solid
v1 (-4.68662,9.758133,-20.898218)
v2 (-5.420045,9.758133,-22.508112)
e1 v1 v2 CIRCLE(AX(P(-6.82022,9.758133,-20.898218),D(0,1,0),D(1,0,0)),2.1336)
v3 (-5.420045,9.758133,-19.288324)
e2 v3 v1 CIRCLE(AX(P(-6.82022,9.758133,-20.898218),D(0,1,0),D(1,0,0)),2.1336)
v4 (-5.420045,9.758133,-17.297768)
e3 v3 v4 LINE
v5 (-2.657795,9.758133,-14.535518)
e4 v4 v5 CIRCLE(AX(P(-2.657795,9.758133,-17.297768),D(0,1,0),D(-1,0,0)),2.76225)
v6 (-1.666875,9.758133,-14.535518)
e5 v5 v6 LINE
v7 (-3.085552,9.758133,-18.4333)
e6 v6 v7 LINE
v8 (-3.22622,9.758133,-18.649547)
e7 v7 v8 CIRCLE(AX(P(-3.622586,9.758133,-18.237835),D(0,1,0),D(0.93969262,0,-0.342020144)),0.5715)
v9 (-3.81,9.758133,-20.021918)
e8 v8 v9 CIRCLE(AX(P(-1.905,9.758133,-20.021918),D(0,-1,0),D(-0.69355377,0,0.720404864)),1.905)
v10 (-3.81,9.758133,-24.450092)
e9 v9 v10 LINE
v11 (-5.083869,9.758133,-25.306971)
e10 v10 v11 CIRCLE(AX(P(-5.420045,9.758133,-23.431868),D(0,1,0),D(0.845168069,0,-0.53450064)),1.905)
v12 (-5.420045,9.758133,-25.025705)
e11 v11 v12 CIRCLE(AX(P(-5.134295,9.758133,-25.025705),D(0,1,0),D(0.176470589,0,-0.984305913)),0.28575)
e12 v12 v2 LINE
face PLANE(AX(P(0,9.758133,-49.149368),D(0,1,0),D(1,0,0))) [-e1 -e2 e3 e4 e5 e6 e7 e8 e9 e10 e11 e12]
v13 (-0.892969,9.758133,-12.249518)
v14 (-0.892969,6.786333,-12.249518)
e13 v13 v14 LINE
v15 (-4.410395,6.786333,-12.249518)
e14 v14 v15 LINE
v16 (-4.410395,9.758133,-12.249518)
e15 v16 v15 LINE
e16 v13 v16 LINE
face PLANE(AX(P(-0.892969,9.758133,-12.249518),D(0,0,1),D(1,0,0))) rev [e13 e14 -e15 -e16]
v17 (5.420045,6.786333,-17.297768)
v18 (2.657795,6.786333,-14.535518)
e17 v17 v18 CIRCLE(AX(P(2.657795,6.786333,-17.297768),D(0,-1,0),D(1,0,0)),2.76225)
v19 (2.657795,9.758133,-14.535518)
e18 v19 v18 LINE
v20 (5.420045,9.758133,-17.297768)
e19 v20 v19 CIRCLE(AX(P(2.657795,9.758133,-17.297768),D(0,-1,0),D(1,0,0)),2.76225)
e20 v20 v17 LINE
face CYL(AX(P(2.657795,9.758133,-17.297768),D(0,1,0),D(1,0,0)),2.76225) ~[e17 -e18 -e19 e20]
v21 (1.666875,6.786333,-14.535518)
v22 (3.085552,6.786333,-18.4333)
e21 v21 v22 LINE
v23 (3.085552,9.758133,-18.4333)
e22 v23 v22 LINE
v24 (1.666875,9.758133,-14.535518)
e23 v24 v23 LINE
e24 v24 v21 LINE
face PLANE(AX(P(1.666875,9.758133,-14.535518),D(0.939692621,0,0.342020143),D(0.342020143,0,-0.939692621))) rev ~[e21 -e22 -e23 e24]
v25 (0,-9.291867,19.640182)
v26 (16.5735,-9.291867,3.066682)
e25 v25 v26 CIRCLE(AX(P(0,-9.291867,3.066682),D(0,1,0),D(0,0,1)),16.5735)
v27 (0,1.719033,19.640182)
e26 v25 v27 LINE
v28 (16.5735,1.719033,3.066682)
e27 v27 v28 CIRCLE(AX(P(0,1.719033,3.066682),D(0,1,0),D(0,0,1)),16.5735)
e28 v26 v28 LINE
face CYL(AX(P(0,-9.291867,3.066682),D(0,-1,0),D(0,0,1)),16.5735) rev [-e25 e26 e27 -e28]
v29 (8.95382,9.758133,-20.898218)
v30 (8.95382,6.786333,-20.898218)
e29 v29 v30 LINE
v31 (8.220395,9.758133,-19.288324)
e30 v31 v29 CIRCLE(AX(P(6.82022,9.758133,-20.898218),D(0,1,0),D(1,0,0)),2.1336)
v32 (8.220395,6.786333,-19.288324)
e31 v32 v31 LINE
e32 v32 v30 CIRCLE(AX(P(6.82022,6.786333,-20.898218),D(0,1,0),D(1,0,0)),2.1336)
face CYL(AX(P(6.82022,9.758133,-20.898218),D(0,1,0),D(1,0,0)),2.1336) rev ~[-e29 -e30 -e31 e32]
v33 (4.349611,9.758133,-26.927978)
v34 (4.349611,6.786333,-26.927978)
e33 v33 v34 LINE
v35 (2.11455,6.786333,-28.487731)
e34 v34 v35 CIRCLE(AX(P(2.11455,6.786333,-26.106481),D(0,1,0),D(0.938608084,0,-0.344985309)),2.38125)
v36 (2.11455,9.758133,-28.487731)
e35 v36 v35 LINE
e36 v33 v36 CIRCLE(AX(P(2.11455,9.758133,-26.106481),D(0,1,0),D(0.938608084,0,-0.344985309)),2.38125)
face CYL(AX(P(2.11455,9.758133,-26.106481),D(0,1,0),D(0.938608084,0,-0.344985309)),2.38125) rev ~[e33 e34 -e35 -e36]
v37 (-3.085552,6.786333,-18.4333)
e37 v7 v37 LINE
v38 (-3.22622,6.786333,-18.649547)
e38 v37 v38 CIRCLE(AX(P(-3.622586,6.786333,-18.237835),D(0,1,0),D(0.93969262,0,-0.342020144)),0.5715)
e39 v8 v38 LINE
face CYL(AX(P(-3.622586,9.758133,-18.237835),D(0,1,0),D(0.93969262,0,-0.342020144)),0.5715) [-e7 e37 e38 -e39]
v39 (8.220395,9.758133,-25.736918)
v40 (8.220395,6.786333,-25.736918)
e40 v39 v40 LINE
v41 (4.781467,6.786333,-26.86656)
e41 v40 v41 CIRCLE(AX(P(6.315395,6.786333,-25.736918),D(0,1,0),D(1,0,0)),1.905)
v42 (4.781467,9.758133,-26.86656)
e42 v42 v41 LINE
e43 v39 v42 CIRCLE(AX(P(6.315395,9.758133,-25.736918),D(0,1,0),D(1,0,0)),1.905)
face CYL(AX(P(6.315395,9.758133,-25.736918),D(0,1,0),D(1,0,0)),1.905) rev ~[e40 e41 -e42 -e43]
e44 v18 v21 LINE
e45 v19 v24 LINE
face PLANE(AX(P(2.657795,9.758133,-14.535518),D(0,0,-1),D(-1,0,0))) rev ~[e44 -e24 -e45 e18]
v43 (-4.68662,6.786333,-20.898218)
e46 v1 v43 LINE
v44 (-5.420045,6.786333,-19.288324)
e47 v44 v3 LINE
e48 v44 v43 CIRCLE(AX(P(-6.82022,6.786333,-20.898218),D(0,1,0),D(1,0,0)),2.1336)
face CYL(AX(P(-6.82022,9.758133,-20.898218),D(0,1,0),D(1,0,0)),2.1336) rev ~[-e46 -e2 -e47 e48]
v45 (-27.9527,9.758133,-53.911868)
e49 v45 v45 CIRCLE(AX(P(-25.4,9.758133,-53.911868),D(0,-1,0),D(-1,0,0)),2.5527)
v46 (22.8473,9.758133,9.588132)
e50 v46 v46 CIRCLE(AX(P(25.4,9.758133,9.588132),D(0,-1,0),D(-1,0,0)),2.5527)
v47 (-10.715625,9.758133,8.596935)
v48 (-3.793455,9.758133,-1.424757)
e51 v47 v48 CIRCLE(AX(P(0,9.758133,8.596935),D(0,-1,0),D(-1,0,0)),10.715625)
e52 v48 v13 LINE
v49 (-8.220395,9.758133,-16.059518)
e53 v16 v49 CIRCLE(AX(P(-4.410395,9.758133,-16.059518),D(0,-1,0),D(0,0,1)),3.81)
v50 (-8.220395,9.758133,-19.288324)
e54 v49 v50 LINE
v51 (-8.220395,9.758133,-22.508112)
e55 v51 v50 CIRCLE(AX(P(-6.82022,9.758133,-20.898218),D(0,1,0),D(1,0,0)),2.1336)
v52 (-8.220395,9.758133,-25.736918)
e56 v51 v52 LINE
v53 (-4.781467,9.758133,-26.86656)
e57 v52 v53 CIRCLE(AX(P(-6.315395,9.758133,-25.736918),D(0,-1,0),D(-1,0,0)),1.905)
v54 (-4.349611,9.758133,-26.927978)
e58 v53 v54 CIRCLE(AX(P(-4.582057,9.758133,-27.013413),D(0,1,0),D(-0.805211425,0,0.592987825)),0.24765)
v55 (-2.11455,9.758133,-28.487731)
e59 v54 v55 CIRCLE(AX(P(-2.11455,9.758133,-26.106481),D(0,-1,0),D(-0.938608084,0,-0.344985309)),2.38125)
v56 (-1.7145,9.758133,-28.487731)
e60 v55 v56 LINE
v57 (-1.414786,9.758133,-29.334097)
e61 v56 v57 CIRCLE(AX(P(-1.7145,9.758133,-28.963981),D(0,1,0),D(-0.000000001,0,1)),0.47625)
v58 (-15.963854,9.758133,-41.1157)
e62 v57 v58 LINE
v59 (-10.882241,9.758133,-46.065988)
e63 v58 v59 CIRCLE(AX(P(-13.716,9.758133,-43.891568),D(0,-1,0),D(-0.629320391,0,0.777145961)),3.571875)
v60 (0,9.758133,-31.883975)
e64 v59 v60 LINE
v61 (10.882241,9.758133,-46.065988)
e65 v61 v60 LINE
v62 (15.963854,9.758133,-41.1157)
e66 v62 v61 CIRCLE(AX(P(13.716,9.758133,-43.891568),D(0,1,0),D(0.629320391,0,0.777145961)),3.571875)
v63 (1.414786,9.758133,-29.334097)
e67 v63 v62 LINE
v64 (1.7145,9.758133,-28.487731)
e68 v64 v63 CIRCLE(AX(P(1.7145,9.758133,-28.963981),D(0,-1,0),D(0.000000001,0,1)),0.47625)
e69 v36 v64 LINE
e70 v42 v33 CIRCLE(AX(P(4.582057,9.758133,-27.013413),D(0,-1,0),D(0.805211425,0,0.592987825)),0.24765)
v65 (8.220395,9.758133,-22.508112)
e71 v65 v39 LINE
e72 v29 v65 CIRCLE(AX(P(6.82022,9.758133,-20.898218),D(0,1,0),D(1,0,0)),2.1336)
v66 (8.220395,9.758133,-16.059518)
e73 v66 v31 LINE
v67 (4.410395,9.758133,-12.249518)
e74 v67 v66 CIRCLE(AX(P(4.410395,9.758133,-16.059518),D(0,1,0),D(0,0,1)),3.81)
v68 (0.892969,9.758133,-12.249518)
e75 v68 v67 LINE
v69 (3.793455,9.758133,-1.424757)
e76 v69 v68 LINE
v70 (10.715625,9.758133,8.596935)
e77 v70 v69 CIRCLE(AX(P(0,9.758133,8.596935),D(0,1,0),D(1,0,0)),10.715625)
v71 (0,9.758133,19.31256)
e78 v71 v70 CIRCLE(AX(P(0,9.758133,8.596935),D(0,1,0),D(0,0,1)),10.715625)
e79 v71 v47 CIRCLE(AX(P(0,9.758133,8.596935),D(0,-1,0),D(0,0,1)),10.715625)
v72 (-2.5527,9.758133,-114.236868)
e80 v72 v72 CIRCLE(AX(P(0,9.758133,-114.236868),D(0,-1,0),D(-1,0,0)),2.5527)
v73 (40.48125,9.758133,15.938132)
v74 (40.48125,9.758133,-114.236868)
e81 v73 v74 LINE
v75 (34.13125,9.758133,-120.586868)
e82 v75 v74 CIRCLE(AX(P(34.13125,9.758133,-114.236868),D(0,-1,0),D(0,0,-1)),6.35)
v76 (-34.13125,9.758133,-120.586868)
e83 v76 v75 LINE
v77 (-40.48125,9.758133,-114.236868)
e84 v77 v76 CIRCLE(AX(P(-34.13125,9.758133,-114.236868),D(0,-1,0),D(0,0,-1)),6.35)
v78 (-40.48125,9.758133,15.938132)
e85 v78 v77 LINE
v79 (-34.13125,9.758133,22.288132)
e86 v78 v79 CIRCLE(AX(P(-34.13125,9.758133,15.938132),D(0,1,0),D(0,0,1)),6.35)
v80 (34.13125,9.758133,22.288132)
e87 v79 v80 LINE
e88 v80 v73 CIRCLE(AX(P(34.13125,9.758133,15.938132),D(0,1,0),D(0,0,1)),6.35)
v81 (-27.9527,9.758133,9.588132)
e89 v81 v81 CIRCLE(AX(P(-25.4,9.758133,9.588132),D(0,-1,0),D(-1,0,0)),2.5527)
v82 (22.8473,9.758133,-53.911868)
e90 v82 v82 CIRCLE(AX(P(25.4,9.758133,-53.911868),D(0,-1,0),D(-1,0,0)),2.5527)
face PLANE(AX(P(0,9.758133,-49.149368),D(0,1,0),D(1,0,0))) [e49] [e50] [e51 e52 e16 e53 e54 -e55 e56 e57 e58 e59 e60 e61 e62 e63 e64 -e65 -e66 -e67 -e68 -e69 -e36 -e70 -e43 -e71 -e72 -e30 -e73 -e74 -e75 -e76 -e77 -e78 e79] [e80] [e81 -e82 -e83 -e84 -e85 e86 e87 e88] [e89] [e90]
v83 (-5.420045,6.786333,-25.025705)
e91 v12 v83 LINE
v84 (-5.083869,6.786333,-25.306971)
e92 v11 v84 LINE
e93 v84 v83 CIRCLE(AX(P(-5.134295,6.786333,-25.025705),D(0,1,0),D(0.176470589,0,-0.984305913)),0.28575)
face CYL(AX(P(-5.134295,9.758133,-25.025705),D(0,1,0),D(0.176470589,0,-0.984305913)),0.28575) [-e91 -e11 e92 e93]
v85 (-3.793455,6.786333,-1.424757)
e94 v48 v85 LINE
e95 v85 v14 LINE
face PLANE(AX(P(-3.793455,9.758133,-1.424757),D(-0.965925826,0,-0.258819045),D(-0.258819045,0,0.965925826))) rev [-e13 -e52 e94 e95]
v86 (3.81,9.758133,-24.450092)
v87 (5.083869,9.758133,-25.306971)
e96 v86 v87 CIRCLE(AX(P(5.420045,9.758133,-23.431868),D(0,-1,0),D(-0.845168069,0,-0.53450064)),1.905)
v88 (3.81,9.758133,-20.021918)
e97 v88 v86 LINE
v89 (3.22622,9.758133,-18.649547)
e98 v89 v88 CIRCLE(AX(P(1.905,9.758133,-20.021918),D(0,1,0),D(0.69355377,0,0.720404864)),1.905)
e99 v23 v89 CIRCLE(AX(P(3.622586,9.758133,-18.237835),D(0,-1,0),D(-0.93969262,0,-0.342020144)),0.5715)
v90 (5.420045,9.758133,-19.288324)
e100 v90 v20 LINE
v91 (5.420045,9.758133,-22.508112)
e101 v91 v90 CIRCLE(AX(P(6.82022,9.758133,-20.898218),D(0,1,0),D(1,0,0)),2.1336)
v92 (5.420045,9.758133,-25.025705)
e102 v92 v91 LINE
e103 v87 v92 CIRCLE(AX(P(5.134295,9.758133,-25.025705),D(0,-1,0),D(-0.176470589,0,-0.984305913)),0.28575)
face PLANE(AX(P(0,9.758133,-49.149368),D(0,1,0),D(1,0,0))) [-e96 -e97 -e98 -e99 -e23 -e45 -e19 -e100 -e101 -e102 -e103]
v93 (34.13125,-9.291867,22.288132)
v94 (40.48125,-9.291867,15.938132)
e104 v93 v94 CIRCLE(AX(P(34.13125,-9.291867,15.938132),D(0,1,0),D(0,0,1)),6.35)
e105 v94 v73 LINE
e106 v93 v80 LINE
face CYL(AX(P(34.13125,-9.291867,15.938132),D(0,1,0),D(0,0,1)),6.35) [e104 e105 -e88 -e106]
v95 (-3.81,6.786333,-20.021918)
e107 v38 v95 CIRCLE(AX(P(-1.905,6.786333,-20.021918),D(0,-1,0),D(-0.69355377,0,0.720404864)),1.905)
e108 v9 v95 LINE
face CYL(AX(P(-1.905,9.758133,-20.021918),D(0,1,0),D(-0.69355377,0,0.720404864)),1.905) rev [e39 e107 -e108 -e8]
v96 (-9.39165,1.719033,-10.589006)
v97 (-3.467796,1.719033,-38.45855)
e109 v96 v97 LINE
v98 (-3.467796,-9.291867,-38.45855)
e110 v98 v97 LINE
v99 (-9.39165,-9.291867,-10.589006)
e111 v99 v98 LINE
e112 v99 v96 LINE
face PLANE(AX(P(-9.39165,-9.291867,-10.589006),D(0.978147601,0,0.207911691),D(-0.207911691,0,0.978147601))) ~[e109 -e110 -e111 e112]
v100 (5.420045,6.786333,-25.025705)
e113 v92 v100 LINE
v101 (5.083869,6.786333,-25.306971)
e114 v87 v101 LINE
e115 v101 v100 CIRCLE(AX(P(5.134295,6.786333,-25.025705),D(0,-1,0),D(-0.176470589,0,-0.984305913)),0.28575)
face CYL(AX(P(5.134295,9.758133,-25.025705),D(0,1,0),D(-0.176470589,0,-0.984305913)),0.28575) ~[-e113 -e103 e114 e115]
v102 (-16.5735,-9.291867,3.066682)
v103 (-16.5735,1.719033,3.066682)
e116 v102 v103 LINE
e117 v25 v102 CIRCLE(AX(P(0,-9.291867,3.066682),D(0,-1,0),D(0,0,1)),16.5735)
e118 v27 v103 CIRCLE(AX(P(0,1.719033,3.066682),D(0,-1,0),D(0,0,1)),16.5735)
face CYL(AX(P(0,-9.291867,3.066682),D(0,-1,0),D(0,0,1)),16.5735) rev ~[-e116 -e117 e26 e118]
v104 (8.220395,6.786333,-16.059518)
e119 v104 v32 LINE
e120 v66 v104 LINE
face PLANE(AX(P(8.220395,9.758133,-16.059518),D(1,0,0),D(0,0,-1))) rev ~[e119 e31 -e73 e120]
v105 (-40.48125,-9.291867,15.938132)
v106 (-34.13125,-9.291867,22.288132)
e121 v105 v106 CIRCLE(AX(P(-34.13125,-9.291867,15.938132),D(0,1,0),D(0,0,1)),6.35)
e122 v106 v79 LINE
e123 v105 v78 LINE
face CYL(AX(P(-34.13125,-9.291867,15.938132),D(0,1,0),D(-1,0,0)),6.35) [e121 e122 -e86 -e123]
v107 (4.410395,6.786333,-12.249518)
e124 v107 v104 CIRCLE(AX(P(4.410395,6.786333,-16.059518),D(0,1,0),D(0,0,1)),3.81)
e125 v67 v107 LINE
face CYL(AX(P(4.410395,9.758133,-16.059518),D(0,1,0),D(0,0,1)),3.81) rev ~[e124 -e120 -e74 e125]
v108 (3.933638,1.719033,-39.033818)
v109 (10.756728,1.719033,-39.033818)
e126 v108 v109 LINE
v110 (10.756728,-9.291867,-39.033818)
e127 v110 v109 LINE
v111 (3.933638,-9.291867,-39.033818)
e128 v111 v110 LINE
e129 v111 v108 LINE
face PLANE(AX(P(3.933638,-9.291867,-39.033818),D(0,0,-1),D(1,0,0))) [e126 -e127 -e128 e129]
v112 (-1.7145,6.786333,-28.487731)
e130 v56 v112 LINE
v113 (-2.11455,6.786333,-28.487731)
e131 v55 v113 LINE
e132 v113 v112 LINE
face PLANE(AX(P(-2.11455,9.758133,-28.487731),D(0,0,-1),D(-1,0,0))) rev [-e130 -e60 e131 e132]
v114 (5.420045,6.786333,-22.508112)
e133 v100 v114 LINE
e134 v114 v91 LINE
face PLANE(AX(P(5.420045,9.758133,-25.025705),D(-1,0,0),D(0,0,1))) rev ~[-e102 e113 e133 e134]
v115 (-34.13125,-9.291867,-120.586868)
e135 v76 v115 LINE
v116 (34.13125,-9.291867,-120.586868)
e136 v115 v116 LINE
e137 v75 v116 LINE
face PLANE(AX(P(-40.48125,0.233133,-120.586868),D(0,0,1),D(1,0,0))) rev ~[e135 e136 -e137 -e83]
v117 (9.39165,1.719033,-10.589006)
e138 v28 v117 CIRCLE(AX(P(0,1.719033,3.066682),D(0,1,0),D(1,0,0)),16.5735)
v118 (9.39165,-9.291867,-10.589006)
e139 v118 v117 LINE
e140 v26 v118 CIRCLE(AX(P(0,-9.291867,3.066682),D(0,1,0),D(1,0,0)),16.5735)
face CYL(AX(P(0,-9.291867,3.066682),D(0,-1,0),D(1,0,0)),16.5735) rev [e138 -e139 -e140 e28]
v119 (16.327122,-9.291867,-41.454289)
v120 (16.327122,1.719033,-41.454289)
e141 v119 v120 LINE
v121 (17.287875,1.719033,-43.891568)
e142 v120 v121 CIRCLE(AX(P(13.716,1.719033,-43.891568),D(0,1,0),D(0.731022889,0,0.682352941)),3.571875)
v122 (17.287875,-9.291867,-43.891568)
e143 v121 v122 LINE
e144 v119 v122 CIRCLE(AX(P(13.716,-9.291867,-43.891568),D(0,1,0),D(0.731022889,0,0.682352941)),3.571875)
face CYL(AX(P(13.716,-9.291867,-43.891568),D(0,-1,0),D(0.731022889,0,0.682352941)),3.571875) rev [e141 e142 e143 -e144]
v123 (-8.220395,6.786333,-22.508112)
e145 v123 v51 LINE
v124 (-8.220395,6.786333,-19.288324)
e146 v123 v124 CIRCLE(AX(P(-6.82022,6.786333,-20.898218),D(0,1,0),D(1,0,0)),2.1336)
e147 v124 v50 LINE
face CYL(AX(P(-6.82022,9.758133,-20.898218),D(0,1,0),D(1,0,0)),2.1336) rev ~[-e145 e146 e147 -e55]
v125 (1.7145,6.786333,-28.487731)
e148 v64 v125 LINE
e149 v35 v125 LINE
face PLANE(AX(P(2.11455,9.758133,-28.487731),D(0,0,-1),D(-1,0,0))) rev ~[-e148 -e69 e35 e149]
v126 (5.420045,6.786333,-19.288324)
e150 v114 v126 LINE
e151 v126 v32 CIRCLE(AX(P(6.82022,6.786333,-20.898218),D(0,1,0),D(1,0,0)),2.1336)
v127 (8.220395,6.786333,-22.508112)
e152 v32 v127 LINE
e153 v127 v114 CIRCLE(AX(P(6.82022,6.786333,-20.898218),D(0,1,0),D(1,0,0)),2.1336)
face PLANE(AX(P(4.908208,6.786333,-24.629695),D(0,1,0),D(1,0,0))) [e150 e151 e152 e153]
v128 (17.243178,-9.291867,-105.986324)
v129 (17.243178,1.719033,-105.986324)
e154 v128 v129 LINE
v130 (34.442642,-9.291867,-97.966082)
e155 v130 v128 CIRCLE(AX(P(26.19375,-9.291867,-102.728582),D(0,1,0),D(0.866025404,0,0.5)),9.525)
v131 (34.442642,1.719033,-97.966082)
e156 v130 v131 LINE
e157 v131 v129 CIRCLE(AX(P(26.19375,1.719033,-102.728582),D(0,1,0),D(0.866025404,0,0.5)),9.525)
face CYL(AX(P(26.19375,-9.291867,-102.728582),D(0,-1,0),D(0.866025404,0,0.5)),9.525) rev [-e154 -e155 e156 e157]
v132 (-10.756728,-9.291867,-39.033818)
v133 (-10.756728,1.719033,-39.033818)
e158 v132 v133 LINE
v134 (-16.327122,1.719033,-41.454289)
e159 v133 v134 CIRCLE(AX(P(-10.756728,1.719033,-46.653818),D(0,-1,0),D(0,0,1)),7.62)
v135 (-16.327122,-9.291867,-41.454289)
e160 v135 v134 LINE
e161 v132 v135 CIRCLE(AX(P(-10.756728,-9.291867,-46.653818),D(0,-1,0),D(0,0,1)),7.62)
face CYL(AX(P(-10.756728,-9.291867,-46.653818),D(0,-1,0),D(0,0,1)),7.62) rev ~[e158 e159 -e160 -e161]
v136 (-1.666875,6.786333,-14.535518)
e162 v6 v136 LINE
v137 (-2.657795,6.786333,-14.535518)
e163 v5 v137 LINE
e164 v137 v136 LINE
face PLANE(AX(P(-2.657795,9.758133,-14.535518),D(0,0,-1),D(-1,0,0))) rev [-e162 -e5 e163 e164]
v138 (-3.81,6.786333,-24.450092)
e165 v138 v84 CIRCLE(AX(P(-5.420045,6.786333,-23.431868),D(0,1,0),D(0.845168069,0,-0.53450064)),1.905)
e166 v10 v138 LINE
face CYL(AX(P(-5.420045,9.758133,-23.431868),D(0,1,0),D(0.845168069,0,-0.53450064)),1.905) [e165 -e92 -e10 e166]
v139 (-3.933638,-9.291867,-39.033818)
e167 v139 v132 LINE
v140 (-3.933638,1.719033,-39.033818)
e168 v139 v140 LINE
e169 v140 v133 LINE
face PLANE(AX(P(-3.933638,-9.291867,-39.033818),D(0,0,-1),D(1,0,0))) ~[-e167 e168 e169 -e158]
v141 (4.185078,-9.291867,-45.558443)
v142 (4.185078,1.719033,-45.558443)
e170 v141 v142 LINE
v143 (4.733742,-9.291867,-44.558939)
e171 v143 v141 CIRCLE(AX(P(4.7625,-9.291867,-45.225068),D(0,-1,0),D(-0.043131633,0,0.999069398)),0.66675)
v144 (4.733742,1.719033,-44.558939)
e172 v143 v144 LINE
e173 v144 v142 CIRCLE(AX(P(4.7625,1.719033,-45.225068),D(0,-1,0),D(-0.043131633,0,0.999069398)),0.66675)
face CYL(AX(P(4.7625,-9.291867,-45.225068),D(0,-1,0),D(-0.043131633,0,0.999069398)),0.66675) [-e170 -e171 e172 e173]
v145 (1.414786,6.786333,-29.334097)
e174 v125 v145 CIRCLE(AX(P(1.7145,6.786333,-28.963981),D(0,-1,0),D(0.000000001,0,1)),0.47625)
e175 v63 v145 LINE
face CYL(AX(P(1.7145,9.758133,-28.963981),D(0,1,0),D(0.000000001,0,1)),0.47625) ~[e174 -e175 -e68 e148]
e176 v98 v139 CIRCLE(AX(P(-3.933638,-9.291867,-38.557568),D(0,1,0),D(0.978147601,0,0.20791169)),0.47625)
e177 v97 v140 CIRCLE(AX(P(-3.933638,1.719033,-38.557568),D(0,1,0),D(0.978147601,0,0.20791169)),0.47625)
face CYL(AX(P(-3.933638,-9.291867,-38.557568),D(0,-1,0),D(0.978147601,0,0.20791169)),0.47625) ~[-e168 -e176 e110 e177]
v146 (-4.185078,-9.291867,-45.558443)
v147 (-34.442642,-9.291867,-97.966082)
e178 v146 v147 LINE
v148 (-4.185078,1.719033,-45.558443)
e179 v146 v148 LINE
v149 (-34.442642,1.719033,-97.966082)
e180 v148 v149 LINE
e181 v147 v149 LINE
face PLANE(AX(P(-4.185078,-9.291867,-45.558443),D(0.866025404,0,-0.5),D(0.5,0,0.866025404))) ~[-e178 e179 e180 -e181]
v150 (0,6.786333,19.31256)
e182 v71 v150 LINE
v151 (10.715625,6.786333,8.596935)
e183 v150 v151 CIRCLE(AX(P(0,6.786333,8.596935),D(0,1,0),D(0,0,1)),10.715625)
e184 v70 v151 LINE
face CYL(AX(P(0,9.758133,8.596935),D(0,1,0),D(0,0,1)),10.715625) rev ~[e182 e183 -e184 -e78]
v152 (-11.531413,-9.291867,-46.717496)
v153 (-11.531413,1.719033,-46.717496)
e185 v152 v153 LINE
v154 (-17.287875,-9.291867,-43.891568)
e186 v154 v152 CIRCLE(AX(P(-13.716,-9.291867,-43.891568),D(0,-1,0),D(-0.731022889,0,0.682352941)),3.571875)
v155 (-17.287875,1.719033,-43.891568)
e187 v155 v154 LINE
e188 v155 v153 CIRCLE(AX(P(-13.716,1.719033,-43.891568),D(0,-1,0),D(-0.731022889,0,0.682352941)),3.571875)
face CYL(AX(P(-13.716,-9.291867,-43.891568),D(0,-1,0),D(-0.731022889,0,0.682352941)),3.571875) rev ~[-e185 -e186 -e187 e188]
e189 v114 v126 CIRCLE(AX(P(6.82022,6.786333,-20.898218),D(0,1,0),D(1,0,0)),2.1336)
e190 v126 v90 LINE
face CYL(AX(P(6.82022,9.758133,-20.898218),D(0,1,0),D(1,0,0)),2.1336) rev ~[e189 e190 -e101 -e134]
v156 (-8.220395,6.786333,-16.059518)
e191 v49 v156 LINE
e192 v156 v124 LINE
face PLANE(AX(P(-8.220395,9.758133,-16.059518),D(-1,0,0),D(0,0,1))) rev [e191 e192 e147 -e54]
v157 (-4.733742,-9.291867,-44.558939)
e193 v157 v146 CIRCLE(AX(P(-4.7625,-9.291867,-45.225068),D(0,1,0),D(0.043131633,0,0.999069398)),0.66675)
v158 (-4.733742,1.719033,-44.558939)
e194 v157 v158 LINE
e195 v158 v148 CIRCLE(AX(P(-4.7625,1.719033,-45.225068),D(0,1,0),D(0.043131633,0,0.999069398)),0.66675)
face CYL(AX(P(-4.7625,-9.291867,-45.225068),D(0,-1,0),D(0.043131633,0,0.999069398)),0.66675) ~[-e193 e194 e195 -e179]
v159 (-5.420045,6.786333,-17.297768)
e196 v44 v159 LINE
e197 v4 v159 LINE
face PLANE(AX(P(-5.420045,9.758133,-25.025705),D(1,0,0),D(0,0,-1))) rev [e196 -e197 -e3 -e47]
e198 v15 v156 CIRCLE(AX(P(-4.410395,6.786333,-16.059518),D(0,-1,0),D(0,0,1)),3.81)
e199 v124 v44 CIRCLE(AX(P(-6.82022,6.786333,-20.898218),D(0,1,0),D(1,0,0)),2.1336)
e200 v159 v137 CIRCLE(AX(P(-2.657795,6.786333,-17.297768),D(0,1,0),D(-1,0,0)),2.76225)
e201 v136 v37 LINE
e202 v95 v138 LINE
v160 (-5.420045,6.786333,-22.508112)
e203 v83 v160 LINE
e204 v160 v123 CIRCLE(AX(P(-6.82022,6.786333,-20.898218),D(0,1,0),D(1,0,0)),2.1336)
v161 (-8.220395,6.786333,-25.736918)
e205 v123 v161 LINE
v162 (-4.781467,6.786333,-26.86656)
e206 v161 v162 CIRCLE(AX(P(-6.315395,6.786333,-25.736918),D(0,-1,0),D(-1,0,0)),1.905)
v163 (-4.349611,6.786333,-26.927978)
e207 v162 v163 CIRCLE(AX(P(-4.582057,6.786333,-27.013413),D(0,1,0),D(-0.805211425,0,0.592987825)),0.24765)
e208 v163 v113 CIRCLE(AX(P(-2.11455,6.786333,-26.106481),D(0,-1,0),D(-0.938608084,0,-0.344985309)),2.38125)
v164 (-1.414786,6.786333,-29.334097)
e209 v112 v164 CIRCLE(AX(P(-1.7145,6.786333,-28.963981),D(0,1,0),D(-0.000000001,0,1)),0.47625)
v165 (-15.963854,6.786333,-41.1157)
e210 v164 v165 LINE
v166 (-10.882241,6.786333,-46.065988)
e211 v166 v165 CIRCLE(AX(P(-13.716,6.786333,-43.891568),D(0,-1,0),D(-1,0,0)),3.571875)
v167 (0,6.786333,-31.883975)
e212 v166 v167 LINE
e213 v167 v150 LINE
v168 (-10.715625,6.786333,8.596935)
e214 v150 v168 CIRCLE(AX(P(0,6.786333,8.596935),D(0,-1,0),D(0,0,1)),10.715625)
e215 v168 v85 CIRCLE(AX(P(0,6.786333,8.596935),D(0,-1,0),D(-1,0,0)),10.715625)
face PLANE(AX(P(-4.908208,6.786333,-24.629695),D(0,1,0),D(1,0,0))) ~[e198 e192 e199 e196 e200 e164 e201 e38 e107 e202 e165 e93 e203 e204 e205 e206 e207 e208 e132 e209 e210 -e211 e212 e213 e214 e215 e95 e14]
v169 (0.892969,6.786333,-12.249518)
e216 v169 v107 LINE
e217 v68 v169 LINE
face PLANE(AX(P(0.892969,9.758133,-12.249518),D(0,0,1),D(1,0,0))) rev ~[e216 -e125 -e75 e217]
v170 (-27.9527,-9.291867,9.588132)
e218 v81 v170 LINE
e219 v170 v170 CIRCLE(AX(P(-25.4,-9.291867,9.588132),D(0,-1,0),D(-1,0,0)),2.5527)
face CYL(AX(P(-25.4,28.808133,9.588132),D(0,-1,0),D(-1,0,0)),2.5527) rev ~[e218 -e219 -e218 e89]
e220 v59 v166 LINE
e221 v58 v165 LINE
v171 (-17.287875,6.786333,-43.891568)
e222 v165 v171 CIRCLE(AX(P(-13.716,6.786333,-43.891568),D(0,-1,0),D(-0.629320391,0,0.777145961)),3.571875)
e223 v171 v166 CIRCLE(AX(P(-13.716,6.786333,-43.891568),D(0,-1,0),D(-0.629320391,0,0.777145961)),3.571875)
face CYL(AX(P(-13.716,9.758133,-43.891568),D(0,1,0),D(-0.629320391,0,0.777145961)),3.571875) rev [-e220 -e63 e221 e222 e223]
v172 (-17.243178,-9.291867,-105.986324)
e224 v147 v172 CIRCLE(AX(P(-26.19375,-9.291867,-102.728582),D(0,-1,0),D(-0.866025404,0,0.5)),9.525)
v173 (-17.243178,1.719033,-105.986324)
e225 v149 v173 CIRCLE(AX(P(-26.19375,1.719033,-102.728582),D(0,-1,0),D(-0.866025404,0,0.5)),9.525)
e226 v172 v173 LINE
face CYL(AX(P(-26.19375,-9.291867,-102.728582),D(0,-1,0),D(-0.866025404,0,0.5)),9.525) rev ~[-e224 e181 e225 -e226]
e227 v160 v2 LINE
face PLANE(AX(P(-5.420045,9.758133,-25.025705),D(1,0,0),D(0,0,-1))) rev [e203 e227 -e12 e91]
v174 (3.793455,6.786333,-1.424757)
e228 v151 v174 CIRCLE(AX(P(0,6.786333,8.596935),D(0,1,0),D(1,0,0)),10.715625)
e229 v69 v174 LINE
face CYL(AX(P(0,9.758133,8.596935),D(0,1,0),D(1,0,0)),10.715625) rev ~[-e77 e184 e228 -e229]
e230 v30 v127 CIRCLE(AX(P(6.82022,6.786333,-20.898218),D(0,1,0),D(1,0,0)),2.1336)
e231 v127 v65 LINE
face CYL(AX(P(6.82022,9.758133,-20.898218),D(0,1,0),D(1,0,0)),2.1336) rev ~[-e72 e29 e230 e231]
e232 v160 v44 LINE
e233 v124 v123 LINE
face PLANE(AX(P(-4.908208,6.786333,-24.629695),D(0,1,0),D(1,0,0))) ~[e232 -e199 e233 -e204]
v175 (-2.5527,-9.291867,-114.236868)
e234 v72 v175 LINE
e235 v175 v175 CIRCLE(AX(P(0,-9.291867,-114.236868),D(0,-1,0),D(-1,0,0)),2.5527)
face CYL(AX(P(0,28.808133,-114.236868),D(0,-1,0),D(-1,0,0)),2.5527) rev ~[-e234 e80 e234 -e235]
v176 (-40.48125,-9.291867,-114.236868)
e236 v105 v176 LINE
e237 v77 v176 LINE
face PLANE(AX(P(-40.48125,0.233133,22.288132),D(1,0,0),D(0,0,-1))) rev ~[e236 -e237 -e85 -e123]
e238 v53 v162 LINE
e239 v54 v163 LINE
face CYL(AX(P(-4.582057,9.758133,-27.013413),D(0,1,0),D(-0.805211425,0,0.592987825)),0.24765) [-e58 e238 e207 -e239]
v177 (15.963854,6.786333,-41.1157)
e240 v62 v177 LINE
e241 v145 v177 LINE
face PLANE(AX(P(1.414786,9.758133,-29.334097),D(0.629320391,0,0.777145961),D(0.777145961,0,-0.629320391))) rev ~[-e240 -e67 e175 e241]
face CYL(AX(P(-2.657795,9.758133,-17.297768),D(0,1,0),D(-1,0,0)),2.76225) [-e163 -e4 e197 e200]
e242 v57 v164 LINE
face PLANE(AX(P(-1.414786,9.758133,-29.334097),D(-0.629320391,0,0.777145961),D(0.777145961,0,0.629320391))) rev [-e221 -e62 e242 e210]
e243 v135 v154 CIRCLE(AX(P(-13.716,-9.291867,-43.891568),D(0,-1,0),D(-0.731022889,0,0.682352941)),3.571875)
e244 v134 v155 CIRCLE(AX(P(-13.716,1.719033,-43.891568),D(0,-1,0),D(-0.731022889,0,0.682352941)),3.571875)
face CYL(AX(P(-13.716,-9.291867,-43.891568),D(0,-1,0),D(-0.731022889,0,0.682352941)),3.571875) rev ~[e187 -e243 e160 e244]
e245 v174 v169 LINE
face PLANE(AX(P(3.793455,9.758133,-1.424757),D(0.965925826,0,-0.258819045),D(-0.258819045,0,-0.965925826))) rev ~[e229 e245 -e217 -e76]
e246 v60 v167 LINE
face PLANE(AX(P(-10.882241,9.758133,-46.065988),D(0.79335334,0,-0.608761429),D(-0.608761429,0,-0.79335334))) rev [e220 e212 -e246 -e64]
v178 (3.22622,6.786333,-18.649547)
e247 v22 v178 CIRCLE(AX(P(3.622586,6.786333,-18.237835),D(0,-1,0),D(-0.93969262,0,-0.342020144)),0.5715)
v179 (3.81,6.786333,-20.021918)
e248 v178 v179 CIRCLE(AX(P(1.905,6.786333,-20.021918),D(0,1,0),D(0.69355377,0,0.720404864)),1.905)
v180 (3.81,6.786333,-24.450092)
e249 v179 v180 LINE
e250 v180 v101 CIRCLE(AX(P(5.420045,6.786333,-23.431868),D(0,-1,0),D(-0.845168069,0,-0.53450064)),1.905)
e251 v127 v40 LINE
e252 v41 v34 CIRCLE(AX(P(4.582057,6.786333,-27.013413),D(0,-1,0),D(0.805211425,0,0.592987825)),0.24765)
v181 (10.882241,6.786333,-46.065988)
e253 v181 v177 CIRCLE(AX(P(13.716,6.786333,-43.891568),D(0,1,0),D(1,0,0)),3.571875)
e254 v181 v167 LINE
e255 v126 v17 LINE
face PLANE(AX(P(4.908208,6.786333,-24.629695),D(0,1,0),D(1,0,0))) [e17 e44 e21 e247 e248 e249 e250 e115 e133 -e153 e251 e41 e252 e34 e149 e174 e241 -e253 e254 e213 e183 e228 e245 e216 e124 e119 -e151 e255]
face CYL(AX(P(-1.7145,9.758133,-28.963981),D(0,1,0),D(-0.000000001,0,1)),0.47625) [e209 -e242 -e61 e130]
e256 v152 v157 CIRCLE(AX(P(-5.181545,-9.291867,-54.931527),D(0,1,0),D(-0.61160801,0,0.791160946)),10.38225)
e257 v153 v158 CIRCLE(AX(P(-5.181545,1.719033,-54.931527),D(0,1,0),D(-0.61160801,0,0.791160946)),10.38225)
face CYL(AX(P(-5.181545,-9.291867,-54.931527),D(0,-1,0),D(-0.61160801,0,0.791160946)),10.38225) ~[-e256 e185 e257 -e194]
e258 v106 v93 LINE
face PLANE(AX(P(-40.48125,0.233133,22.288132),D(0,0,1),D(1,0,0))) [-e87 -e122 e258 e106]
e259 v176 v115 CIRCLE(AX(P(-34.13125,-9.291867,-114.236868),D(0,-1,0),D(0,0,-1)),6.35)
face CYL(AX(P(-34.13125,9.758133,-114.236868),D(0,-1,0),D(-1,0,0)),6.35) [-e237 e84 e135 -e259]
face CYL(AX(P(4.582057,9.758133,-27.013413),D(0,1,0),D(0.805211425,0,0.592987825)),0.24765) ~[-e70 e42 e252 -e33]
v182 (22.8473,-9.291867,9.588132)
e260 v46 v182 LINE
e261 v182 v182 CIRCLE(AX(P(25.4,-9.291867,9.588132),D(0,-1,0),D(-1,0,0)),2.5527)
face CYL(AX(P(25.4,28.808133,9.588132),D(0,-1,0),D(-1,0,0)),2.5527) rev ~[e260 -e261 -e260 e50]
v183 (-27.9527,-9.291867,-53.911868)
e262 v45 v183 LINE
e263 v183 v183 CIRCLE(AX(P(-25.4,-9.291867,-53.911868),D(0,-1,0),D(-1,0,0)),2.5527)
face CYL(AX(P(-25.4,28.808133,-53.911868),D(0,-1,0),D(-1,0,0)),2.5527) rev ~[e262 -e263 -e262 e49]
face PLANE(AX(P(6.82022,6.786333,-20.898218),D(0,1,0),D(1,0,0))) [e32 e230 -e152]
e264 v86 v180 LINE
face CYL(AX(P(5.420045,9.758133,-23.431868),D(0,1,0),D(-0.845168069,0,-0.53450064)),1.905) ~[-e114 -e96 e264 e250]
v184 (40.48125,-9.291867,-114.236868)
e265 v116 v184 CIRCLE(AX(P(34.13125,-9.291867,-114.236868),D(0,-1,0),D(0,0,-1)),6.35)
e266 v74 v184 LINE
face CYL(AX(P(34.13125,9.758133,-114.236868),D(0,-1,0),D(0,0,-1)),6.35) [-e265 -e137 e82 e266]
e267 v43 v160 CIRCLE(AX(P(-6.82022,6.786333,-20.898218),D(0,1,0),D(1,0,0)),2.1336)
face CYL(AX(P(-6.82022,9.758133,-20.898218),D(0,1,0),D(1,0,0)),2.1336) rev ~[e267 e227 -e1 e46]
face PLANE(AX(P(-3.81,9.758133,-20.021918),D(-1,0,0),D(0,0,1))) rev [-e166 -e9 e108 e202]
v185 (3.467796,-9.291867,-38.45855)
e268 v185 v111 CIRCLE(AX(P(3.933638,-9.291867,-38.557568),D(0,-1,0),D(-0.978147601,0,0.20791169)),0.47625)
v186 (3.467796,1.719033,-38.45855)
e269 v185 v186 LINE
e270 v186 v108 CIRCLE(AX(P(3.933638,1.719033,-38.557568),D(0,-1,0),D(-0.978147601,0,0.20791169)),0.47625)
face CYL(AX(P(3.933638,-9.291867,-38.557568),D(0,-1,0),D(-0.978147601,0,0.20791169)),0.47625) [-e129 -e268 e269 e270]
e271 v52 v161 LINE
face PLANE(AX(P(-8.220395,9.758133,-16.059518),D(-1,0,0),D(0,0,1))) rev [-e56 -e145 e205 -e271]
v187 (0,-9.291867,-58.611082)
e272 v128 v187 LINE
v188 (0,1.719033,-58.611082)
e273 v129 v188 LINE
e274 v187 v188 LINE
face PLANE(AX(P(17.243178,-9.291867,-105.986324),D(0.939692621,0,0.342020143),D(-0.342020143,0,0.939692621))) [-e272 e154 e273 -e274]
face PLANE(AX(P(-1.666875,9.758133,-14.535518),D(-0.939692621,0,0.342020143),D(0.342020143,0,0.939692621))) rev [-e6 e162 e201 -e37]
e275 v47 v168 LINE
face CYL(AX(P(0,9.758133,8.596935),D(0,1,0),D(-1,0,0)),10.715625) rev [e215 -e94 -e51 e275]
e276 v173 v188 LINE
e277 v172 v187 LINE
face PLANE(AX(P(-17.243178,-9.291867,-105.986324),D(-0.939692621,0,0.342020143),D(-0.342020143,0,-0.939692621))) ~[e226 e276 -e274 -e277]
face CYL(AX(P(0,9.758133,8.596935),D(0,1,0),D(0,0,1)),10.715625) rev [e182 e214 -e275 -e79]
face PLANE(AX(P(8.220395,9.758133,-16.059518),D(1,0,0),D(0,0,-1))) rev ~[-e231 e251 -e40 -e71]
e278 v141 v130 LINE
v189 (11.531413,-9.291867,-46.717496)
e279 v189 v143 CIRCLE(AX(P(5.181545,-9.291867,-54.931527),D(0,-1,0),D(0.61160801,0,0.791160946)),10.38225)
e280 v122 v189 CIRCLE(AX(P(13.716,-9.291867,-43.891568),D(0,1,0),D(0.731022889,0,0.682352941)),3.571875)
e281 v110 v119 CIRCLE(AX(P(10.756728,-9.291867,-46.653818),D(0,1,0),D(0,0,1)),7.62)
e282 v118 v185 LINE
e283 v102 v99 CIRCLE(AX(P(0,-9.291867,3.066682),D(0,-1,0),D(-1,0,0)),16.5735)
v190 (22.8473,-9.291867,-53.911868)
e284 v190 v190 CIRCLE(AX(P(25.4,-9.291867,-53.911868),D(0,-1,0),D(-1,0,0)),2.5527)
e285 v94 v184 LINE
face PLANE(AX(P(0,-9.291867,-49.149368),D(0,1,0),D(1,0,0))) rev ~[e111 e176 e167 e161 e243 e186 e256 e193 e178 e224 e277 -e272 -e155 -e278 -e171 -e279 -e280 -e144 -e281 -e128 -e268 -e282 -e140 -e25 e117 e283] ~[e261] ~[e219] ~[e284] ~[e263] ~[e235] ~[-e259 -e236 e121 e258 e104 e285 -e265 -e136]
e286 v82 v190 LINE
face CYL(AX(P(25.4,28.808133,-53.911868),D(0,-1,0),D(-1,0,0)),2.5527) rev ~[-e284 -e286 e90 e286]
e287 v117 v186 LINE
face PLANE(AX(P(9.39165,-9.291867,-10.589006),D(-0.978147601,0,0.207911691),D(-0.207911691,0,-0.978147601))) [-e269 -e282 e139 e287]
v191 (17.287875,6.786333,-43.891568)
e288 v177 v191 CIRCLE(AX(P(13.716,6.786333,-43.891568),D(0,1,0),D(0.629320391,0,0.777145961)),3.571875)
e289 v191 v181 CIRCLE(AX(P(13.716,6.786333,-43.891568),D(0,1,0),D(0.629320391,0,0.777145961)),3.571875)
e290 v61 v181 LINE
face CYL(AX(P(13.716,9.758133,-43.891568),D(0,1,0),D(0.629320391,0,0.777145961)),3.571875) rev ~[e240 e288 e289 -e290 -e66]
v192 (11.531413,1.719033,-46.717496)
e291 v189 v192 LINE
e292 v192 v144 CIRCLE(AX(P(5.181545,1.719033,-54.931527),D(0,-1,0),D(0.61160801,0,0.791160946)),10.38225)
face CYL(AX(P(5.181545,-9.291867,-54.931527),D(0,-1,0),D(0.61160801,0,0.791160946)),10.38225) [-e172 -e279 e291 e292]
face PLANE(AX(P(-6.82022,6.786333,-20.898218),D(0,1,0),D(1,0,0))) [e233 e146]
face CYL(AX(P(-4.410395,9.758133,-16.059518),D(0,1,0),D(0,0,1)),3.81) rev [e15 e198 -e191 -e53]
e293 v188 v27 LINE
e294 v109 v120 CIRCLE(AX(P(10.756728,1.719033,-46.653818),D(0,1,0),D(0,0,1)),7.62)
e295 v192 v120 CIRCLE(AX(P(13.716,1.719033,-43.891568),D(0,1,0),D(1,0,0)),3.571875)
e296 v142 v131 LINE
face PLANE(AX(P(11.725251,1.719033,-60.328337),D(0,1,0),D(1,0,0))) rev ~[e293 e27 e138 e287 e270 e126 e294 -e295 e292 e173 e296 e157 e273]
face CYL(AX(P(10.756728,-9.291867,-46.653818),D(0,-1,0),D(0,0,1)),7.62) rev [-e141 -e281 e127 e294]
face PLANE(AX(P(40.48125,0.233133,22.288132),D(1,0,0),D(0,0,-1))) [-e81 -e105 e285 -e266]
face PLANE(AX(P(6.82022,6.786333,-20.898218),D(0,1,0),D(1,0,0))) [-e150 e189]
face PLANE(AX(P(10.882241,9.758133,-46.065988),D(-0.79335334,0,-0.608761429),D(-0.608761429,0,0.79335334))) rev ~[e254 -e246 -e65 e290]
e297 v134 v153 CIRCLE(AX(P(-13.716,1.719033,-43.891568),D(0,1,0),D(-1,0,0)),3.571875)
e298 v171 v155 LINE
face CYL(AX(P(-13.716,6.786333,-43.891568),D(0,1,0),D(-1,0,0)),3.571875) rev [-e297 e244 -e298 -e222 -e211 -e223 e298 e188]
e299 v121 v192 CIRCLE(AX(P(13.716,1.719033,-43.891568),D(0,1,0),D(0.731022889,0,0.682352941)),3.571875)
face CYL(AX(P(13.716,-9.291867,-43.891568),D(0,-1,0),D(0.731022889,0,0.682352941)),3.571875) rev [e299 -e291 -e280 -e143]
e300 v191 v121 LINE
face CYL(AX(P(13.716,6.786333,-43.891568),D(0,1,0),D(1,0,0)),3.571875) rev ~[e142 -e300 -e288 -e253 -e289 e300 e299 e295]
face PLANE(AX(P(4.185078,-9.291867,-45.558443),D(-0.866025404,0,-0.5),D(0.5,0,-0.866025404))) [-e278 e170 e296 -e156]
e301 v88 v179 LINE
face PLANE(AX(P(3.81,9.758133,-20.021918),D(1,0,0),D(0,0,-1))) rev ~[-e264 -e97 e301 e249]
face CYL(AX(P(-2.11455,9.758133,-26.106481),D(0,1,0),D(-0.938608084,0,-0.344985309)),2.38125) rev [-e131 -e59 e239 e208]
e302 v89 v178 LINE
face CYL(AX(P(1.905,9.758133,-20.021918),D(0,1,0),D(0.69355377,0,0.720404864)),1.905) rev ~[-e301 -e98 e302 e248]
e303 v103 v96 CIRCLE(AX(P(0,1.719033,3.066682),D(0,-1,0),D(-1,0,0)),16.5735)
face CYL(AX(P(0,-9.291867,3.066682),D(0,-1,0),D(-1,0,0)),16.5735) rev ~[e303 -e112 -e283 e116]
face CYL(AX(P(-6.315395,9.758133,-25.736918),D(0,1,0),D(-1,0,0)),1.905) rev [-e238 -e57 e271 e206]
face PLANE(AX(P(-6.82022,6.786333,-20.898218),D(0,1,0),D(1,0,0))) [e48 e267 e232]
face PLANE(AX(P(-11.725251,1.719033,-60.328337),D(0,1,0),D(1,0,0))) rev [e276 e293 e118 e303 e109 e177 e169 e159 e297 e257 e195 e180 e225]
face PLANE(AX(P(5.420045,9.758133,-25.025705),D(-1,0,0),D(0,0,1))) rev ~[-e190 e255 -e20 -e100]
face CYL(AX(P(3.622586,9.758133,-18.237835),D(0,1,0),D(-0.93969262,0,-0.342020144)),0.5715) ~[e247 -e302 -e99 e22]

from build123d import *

# Parameters (mm, degrees)
SKETCH1_W                  = 107.95
SKETCH1_H                  = 190.5
BOSS_EXTRUDE1_DEPTH        = 12.7
CUT_EXTRUDE1_START         = 12.7
SKETCH2_R                  = 4.7625
CUT_EXTRUDE1_DEPTH         = 3.9624
CUT_EXTRUDE2_START         = -12.7
SKETCH3_R                  = 4.7625
CUT_EXTRUDE2_DEPTH         = 14.6812
SKETCH5_R                  = 4.7625
CUT_EXTRUDE3_DEPTH         = 22.4376
SCALE1_SCALE               = 0.75
SKETCH6_R                  = 2.1336
CUT_EXTRUDE4_DEPTH         = 2.9718
F_10_CLEARANCE_HOLE1_D     = 5.1054
F_10_CLEARANCE_HOLE1_DEPTH = 19.05
FILLET1_R                  = 6.35


with BuildPart() as part:
    # Sketch1 → Boss-Extrude1 (new body, symmetric)
    with BuildSketch(Plane(origin=(0, 0, 0), x_dir=(1, 0, 0), z_dir=(0, 1, 0))):
        with Locations((0, 49.1998)):
            Rectangle(SKETCH1_W, SKETCH1_H)
    extrude(amount=BOSS_EXTRUDE1_DEPTH, both=True)

    # Sketch2 → Cut-Extrude1 (cut)
    with BuildSketch(Plane(origin=(0, 0, 0), x_dir=(1, 0, 0), z_dir=(0, 1, 0)).offset(CUT_EXTRUDE1_START)):
        with BuildLine():
            Line((5.057939535, -14.433014335), (1.190625, 0))
            Line((1.190625, 0), (5.880526895, 0))
            ThreePointArc((5.880526895, 0), (9.472629344, 1.487897552), (10.960526895, 5.08))
            Line((10.960526895, 5.08), (10.960526895, 17.9832))
            ThreePointArc((10.960526895, 17.9832), (9.213211561, 20.396341318), (6.375289871, 19.48938907))
            ThreePointArc((6.375289871, 19.48938907), (6.062916501, 19.358283139), (5.799480669, 19.571279501))
            ThreePointArc((5.799480669, 19.571279501), (4.636397175, 21.079630515), (2.8194, 21.650951144))
            Line((2.8194, 21.650951144), (2.286, 21.650951144))
            ThreePointArc((2.286, 21.650951144), (1.687422653, 22.073983788), (1.886381552, 22.779438829))
            Line((1.886381552, 22.779438829), (21.285138362, 38.488242359))
            ThreePointArc((21.285138362, 38.488242359), (14.964772935, 38.778011994), (14.509654717, 45.088626306))
            Line((14.509654717, 45.088626306), (0, 26.179276127))
            Line((0, 26.179276127), (0, -13.507771027))
            ThreePointArc((0, -13.507771027), (2.570935021, -13.740985226), (5.057939535, -14.433014335))
        make_face()
        with BuildLine():
            Line((3.543726895, 3.048), (2.2225, 3.048))
            Line((2.2225, 3.048), (4.114068772, 8.245042489))
            ThreePointArc((4.114068772, 8.245042489), (4.191366172, 8.399928267), (4.301626576, 8.533371646))
            ThreePointArc((4.301626576, 8.533371646), (4.877320207, 9.368949404), (5.08, 10.3632))
            Line((5.08, 10.3632), (5.08, 16.267431628))
            ThreePointArc((5.08, 16.267431628), (5.809057387, 17.017360952), (6.778491601, 17.40993702))
            ThreePointArc((6.778491601, 17.40993702), (7.090210384, 17.327130128), (7.226726895, 17.034916467))
            Line((7.226726895, 17.034916467), (7.226726895, 6.731))
            ThreePointArc((7.226726895, 6.731), (6.14800117, 4.126725725), (3.543726895, 3.048))
        make_face(mode=Mode.SUBTRACT)
        with Locations((18.288, 42.1894)):
            Circle(SKETCH2_R)
        with BuildLine():
            ThreePointArc((14.2875, -27.795271027), (11.755806382, -19.67531582), (5.057939535, -14.433014335))
            ThreePointArc((5.057939535, -14.433014335), (2.570935021, -13.740985226), (0, -13.507771027))
            Line((0, -13.507771027), (0, -42.082771027))
            ThreePointArc((0, -42.082771027), (10.102788136, -37.898059163), (14.2875, -27.795271027))
        make_face()
    cut_extrude1 = extrude(amount=-CUT_EXTRUDE1_DEPTH, mode=Mode.SUBTRACT)

    # Sketch3 → Cut-Extrude2 (cut)
    with BuildSketch(Plane(origin=(0, 0, 0), x_dir=(1, 0, 0), z_dir=(0, 1, 0)).offset(CUT_EXTRUDE2_START)):
        with BuildLine():
            Line((12.5222, -2.214016109), (4.623727363, 34.945376076))
            ThreePointArc((4.623727363, 34.945376076), (4.751363404, 35.477018448), (5.24485109, 35.7124))
            Line((5.24485109, 35.7124), (14.342303959, 35.7124))
            ThreePointArc((14.342303959, 35.7124), (18.391335215, 36.554087605), (21.769496507, 38.939694118))
            ThreePointArc((21.769496507, 38.939694118), (14.767691653, 38.981778546), (15.375216855, 45.957304006))
            ThreePointArc((15.375216855, 45.957304006), (11.098329565, 43.715563082), (6.311655978, 43.079227305))
            ThreePointArc((6.311655978, 43.079227305), (5.570694317, 43.539610738), (5.580103416, 44.4119))
            Line((5.580103416, 44.4119), (45.923522628, 114.288751826))
            ThreePointArc((45.923522628, 114.288751826), (40.292251924, 132.148860722), (22.990903716, 124.982407647))
            Line((22.990903716, 124.982407647), (0, 61.815418834))
            Line((0, 61.815418834), (0, 1.6764))
            ThreePointArc((0, 1.6764), (6.556310516, 0.681394963), (12.5222, -2.214016109))
        make_face()
        with Locations((18.288, 42.1894)):
            Circle(SKETCH3_R)
        with BuildLine():
            ThreePointArc((22.098, -20.4216), (19.558082467, -10.135540784), (12.5222, -2.214016109))
            ThreePointArc((12.5222, -2.214016109), (6.556310516, 0.681394963), (0, 1.6764))
            Line((0, 1.6764), (0, -42.5196))
            ThreePointArc((0, -42.5196), (15.625645651, -36.047245651), (22.098, -20.4216))
        make_face()
    cut_extrude2 = extrude(amount=CUT_EXTRUDE2_DEPTH, mode=Mode.SUBTRACT)

    # Sketch5 → Cut-Extrude3 (cut, through all)
    with BuildSketch(Plane(origin=(0, 8.7376, 0), x_dir=(1, 0, 0), z_dir=(0, 1, 0))):
        with Locations((18.288, 42.1894)):
            Circle(SKETCH5_R)
    cut_extrude3 = extrude(amount=-CUT_EXTRUDE3_DEPTH, mode=Mode.SUBTRACT)

    # Mirror1: Cut-Extrude1, Cut-Extrude2, Cut-Extrude3 across plane
    add(cut_extrude1.mirror(Plane(origin=(0, 0, 0), x_dir=(0, 0, 1), z_dir=(1, 0, 0))), mode=Mode.SUBTRACT)
    add(cut_extrude2.mirror(Plane(origin=(0, 0, 0), x_dir=(0, 0, 1), z_dir=(1, 0, 0))), mode=Mode.SUBTRACT)
    add(cut_extrude3.mirror(Plane(origin=(0, 0, 0), x_dir=(0, 0, 1), z_dir=(1, 0, 0))), mode=Mode.SUBTRACT)


with BuildPart() as part_1:
    # Scale1: scaled about (0, 0.932530252, -48.998072256)
    add(part.part.scale(SCALE1_SCALE).moved(Location((0, 0.233132563, -12.249518064))))

    # Sketch6 → Cut-Extrude4 (cut)
    with BuildSketch(Plane(origin=(0, 9.758132563, 0), x_dir=(1, 0, 0), z_dir=(0, 1, 0))):
        with Locations((-6.820220171, 20.898218064)):
            Circle(SKETCH6_R)
        with Locations((6.820220171, 20.898218064)):
            Circle(SKETCH6_R)
    extrude(amount=-CUT_EXTRUDE4_DEPTH, mode=Mode.SUBTRACT)

    # #10 Clearance Hole1
    with Locations(Plane(origin=(0, 9.758132563, 0), x_dir=(1, 0, 0), z_dir=(0, 1, 0))):
        with Locations((0, 114.236868064), (-25.4, 53.911868064), (25.4, 53.911868064), (25.4, -9.588131936), (-25.4, -9.588131936)):
            Hole(F_10_CLEARANCE_HOLE1_D / 2, depth=F_10_CLEARANCE_HOLE1_DEPTH)

    # Fillet1
    fillet1_edges = [part_1.edges().sort_by_distance(p)[0] for p in [
        (-40.48125, 0.233132563, -120.586868064),
        (40.48125, 0.233132563, -120.586868064),
        (40.48125, 0.233132563, 22.288131936),
        (-40.48125, 0.233132563, 22.288131936),
    ]]
    fillet(fillet1_edges, radius=FILLET1_R)


solid = part_1.part
